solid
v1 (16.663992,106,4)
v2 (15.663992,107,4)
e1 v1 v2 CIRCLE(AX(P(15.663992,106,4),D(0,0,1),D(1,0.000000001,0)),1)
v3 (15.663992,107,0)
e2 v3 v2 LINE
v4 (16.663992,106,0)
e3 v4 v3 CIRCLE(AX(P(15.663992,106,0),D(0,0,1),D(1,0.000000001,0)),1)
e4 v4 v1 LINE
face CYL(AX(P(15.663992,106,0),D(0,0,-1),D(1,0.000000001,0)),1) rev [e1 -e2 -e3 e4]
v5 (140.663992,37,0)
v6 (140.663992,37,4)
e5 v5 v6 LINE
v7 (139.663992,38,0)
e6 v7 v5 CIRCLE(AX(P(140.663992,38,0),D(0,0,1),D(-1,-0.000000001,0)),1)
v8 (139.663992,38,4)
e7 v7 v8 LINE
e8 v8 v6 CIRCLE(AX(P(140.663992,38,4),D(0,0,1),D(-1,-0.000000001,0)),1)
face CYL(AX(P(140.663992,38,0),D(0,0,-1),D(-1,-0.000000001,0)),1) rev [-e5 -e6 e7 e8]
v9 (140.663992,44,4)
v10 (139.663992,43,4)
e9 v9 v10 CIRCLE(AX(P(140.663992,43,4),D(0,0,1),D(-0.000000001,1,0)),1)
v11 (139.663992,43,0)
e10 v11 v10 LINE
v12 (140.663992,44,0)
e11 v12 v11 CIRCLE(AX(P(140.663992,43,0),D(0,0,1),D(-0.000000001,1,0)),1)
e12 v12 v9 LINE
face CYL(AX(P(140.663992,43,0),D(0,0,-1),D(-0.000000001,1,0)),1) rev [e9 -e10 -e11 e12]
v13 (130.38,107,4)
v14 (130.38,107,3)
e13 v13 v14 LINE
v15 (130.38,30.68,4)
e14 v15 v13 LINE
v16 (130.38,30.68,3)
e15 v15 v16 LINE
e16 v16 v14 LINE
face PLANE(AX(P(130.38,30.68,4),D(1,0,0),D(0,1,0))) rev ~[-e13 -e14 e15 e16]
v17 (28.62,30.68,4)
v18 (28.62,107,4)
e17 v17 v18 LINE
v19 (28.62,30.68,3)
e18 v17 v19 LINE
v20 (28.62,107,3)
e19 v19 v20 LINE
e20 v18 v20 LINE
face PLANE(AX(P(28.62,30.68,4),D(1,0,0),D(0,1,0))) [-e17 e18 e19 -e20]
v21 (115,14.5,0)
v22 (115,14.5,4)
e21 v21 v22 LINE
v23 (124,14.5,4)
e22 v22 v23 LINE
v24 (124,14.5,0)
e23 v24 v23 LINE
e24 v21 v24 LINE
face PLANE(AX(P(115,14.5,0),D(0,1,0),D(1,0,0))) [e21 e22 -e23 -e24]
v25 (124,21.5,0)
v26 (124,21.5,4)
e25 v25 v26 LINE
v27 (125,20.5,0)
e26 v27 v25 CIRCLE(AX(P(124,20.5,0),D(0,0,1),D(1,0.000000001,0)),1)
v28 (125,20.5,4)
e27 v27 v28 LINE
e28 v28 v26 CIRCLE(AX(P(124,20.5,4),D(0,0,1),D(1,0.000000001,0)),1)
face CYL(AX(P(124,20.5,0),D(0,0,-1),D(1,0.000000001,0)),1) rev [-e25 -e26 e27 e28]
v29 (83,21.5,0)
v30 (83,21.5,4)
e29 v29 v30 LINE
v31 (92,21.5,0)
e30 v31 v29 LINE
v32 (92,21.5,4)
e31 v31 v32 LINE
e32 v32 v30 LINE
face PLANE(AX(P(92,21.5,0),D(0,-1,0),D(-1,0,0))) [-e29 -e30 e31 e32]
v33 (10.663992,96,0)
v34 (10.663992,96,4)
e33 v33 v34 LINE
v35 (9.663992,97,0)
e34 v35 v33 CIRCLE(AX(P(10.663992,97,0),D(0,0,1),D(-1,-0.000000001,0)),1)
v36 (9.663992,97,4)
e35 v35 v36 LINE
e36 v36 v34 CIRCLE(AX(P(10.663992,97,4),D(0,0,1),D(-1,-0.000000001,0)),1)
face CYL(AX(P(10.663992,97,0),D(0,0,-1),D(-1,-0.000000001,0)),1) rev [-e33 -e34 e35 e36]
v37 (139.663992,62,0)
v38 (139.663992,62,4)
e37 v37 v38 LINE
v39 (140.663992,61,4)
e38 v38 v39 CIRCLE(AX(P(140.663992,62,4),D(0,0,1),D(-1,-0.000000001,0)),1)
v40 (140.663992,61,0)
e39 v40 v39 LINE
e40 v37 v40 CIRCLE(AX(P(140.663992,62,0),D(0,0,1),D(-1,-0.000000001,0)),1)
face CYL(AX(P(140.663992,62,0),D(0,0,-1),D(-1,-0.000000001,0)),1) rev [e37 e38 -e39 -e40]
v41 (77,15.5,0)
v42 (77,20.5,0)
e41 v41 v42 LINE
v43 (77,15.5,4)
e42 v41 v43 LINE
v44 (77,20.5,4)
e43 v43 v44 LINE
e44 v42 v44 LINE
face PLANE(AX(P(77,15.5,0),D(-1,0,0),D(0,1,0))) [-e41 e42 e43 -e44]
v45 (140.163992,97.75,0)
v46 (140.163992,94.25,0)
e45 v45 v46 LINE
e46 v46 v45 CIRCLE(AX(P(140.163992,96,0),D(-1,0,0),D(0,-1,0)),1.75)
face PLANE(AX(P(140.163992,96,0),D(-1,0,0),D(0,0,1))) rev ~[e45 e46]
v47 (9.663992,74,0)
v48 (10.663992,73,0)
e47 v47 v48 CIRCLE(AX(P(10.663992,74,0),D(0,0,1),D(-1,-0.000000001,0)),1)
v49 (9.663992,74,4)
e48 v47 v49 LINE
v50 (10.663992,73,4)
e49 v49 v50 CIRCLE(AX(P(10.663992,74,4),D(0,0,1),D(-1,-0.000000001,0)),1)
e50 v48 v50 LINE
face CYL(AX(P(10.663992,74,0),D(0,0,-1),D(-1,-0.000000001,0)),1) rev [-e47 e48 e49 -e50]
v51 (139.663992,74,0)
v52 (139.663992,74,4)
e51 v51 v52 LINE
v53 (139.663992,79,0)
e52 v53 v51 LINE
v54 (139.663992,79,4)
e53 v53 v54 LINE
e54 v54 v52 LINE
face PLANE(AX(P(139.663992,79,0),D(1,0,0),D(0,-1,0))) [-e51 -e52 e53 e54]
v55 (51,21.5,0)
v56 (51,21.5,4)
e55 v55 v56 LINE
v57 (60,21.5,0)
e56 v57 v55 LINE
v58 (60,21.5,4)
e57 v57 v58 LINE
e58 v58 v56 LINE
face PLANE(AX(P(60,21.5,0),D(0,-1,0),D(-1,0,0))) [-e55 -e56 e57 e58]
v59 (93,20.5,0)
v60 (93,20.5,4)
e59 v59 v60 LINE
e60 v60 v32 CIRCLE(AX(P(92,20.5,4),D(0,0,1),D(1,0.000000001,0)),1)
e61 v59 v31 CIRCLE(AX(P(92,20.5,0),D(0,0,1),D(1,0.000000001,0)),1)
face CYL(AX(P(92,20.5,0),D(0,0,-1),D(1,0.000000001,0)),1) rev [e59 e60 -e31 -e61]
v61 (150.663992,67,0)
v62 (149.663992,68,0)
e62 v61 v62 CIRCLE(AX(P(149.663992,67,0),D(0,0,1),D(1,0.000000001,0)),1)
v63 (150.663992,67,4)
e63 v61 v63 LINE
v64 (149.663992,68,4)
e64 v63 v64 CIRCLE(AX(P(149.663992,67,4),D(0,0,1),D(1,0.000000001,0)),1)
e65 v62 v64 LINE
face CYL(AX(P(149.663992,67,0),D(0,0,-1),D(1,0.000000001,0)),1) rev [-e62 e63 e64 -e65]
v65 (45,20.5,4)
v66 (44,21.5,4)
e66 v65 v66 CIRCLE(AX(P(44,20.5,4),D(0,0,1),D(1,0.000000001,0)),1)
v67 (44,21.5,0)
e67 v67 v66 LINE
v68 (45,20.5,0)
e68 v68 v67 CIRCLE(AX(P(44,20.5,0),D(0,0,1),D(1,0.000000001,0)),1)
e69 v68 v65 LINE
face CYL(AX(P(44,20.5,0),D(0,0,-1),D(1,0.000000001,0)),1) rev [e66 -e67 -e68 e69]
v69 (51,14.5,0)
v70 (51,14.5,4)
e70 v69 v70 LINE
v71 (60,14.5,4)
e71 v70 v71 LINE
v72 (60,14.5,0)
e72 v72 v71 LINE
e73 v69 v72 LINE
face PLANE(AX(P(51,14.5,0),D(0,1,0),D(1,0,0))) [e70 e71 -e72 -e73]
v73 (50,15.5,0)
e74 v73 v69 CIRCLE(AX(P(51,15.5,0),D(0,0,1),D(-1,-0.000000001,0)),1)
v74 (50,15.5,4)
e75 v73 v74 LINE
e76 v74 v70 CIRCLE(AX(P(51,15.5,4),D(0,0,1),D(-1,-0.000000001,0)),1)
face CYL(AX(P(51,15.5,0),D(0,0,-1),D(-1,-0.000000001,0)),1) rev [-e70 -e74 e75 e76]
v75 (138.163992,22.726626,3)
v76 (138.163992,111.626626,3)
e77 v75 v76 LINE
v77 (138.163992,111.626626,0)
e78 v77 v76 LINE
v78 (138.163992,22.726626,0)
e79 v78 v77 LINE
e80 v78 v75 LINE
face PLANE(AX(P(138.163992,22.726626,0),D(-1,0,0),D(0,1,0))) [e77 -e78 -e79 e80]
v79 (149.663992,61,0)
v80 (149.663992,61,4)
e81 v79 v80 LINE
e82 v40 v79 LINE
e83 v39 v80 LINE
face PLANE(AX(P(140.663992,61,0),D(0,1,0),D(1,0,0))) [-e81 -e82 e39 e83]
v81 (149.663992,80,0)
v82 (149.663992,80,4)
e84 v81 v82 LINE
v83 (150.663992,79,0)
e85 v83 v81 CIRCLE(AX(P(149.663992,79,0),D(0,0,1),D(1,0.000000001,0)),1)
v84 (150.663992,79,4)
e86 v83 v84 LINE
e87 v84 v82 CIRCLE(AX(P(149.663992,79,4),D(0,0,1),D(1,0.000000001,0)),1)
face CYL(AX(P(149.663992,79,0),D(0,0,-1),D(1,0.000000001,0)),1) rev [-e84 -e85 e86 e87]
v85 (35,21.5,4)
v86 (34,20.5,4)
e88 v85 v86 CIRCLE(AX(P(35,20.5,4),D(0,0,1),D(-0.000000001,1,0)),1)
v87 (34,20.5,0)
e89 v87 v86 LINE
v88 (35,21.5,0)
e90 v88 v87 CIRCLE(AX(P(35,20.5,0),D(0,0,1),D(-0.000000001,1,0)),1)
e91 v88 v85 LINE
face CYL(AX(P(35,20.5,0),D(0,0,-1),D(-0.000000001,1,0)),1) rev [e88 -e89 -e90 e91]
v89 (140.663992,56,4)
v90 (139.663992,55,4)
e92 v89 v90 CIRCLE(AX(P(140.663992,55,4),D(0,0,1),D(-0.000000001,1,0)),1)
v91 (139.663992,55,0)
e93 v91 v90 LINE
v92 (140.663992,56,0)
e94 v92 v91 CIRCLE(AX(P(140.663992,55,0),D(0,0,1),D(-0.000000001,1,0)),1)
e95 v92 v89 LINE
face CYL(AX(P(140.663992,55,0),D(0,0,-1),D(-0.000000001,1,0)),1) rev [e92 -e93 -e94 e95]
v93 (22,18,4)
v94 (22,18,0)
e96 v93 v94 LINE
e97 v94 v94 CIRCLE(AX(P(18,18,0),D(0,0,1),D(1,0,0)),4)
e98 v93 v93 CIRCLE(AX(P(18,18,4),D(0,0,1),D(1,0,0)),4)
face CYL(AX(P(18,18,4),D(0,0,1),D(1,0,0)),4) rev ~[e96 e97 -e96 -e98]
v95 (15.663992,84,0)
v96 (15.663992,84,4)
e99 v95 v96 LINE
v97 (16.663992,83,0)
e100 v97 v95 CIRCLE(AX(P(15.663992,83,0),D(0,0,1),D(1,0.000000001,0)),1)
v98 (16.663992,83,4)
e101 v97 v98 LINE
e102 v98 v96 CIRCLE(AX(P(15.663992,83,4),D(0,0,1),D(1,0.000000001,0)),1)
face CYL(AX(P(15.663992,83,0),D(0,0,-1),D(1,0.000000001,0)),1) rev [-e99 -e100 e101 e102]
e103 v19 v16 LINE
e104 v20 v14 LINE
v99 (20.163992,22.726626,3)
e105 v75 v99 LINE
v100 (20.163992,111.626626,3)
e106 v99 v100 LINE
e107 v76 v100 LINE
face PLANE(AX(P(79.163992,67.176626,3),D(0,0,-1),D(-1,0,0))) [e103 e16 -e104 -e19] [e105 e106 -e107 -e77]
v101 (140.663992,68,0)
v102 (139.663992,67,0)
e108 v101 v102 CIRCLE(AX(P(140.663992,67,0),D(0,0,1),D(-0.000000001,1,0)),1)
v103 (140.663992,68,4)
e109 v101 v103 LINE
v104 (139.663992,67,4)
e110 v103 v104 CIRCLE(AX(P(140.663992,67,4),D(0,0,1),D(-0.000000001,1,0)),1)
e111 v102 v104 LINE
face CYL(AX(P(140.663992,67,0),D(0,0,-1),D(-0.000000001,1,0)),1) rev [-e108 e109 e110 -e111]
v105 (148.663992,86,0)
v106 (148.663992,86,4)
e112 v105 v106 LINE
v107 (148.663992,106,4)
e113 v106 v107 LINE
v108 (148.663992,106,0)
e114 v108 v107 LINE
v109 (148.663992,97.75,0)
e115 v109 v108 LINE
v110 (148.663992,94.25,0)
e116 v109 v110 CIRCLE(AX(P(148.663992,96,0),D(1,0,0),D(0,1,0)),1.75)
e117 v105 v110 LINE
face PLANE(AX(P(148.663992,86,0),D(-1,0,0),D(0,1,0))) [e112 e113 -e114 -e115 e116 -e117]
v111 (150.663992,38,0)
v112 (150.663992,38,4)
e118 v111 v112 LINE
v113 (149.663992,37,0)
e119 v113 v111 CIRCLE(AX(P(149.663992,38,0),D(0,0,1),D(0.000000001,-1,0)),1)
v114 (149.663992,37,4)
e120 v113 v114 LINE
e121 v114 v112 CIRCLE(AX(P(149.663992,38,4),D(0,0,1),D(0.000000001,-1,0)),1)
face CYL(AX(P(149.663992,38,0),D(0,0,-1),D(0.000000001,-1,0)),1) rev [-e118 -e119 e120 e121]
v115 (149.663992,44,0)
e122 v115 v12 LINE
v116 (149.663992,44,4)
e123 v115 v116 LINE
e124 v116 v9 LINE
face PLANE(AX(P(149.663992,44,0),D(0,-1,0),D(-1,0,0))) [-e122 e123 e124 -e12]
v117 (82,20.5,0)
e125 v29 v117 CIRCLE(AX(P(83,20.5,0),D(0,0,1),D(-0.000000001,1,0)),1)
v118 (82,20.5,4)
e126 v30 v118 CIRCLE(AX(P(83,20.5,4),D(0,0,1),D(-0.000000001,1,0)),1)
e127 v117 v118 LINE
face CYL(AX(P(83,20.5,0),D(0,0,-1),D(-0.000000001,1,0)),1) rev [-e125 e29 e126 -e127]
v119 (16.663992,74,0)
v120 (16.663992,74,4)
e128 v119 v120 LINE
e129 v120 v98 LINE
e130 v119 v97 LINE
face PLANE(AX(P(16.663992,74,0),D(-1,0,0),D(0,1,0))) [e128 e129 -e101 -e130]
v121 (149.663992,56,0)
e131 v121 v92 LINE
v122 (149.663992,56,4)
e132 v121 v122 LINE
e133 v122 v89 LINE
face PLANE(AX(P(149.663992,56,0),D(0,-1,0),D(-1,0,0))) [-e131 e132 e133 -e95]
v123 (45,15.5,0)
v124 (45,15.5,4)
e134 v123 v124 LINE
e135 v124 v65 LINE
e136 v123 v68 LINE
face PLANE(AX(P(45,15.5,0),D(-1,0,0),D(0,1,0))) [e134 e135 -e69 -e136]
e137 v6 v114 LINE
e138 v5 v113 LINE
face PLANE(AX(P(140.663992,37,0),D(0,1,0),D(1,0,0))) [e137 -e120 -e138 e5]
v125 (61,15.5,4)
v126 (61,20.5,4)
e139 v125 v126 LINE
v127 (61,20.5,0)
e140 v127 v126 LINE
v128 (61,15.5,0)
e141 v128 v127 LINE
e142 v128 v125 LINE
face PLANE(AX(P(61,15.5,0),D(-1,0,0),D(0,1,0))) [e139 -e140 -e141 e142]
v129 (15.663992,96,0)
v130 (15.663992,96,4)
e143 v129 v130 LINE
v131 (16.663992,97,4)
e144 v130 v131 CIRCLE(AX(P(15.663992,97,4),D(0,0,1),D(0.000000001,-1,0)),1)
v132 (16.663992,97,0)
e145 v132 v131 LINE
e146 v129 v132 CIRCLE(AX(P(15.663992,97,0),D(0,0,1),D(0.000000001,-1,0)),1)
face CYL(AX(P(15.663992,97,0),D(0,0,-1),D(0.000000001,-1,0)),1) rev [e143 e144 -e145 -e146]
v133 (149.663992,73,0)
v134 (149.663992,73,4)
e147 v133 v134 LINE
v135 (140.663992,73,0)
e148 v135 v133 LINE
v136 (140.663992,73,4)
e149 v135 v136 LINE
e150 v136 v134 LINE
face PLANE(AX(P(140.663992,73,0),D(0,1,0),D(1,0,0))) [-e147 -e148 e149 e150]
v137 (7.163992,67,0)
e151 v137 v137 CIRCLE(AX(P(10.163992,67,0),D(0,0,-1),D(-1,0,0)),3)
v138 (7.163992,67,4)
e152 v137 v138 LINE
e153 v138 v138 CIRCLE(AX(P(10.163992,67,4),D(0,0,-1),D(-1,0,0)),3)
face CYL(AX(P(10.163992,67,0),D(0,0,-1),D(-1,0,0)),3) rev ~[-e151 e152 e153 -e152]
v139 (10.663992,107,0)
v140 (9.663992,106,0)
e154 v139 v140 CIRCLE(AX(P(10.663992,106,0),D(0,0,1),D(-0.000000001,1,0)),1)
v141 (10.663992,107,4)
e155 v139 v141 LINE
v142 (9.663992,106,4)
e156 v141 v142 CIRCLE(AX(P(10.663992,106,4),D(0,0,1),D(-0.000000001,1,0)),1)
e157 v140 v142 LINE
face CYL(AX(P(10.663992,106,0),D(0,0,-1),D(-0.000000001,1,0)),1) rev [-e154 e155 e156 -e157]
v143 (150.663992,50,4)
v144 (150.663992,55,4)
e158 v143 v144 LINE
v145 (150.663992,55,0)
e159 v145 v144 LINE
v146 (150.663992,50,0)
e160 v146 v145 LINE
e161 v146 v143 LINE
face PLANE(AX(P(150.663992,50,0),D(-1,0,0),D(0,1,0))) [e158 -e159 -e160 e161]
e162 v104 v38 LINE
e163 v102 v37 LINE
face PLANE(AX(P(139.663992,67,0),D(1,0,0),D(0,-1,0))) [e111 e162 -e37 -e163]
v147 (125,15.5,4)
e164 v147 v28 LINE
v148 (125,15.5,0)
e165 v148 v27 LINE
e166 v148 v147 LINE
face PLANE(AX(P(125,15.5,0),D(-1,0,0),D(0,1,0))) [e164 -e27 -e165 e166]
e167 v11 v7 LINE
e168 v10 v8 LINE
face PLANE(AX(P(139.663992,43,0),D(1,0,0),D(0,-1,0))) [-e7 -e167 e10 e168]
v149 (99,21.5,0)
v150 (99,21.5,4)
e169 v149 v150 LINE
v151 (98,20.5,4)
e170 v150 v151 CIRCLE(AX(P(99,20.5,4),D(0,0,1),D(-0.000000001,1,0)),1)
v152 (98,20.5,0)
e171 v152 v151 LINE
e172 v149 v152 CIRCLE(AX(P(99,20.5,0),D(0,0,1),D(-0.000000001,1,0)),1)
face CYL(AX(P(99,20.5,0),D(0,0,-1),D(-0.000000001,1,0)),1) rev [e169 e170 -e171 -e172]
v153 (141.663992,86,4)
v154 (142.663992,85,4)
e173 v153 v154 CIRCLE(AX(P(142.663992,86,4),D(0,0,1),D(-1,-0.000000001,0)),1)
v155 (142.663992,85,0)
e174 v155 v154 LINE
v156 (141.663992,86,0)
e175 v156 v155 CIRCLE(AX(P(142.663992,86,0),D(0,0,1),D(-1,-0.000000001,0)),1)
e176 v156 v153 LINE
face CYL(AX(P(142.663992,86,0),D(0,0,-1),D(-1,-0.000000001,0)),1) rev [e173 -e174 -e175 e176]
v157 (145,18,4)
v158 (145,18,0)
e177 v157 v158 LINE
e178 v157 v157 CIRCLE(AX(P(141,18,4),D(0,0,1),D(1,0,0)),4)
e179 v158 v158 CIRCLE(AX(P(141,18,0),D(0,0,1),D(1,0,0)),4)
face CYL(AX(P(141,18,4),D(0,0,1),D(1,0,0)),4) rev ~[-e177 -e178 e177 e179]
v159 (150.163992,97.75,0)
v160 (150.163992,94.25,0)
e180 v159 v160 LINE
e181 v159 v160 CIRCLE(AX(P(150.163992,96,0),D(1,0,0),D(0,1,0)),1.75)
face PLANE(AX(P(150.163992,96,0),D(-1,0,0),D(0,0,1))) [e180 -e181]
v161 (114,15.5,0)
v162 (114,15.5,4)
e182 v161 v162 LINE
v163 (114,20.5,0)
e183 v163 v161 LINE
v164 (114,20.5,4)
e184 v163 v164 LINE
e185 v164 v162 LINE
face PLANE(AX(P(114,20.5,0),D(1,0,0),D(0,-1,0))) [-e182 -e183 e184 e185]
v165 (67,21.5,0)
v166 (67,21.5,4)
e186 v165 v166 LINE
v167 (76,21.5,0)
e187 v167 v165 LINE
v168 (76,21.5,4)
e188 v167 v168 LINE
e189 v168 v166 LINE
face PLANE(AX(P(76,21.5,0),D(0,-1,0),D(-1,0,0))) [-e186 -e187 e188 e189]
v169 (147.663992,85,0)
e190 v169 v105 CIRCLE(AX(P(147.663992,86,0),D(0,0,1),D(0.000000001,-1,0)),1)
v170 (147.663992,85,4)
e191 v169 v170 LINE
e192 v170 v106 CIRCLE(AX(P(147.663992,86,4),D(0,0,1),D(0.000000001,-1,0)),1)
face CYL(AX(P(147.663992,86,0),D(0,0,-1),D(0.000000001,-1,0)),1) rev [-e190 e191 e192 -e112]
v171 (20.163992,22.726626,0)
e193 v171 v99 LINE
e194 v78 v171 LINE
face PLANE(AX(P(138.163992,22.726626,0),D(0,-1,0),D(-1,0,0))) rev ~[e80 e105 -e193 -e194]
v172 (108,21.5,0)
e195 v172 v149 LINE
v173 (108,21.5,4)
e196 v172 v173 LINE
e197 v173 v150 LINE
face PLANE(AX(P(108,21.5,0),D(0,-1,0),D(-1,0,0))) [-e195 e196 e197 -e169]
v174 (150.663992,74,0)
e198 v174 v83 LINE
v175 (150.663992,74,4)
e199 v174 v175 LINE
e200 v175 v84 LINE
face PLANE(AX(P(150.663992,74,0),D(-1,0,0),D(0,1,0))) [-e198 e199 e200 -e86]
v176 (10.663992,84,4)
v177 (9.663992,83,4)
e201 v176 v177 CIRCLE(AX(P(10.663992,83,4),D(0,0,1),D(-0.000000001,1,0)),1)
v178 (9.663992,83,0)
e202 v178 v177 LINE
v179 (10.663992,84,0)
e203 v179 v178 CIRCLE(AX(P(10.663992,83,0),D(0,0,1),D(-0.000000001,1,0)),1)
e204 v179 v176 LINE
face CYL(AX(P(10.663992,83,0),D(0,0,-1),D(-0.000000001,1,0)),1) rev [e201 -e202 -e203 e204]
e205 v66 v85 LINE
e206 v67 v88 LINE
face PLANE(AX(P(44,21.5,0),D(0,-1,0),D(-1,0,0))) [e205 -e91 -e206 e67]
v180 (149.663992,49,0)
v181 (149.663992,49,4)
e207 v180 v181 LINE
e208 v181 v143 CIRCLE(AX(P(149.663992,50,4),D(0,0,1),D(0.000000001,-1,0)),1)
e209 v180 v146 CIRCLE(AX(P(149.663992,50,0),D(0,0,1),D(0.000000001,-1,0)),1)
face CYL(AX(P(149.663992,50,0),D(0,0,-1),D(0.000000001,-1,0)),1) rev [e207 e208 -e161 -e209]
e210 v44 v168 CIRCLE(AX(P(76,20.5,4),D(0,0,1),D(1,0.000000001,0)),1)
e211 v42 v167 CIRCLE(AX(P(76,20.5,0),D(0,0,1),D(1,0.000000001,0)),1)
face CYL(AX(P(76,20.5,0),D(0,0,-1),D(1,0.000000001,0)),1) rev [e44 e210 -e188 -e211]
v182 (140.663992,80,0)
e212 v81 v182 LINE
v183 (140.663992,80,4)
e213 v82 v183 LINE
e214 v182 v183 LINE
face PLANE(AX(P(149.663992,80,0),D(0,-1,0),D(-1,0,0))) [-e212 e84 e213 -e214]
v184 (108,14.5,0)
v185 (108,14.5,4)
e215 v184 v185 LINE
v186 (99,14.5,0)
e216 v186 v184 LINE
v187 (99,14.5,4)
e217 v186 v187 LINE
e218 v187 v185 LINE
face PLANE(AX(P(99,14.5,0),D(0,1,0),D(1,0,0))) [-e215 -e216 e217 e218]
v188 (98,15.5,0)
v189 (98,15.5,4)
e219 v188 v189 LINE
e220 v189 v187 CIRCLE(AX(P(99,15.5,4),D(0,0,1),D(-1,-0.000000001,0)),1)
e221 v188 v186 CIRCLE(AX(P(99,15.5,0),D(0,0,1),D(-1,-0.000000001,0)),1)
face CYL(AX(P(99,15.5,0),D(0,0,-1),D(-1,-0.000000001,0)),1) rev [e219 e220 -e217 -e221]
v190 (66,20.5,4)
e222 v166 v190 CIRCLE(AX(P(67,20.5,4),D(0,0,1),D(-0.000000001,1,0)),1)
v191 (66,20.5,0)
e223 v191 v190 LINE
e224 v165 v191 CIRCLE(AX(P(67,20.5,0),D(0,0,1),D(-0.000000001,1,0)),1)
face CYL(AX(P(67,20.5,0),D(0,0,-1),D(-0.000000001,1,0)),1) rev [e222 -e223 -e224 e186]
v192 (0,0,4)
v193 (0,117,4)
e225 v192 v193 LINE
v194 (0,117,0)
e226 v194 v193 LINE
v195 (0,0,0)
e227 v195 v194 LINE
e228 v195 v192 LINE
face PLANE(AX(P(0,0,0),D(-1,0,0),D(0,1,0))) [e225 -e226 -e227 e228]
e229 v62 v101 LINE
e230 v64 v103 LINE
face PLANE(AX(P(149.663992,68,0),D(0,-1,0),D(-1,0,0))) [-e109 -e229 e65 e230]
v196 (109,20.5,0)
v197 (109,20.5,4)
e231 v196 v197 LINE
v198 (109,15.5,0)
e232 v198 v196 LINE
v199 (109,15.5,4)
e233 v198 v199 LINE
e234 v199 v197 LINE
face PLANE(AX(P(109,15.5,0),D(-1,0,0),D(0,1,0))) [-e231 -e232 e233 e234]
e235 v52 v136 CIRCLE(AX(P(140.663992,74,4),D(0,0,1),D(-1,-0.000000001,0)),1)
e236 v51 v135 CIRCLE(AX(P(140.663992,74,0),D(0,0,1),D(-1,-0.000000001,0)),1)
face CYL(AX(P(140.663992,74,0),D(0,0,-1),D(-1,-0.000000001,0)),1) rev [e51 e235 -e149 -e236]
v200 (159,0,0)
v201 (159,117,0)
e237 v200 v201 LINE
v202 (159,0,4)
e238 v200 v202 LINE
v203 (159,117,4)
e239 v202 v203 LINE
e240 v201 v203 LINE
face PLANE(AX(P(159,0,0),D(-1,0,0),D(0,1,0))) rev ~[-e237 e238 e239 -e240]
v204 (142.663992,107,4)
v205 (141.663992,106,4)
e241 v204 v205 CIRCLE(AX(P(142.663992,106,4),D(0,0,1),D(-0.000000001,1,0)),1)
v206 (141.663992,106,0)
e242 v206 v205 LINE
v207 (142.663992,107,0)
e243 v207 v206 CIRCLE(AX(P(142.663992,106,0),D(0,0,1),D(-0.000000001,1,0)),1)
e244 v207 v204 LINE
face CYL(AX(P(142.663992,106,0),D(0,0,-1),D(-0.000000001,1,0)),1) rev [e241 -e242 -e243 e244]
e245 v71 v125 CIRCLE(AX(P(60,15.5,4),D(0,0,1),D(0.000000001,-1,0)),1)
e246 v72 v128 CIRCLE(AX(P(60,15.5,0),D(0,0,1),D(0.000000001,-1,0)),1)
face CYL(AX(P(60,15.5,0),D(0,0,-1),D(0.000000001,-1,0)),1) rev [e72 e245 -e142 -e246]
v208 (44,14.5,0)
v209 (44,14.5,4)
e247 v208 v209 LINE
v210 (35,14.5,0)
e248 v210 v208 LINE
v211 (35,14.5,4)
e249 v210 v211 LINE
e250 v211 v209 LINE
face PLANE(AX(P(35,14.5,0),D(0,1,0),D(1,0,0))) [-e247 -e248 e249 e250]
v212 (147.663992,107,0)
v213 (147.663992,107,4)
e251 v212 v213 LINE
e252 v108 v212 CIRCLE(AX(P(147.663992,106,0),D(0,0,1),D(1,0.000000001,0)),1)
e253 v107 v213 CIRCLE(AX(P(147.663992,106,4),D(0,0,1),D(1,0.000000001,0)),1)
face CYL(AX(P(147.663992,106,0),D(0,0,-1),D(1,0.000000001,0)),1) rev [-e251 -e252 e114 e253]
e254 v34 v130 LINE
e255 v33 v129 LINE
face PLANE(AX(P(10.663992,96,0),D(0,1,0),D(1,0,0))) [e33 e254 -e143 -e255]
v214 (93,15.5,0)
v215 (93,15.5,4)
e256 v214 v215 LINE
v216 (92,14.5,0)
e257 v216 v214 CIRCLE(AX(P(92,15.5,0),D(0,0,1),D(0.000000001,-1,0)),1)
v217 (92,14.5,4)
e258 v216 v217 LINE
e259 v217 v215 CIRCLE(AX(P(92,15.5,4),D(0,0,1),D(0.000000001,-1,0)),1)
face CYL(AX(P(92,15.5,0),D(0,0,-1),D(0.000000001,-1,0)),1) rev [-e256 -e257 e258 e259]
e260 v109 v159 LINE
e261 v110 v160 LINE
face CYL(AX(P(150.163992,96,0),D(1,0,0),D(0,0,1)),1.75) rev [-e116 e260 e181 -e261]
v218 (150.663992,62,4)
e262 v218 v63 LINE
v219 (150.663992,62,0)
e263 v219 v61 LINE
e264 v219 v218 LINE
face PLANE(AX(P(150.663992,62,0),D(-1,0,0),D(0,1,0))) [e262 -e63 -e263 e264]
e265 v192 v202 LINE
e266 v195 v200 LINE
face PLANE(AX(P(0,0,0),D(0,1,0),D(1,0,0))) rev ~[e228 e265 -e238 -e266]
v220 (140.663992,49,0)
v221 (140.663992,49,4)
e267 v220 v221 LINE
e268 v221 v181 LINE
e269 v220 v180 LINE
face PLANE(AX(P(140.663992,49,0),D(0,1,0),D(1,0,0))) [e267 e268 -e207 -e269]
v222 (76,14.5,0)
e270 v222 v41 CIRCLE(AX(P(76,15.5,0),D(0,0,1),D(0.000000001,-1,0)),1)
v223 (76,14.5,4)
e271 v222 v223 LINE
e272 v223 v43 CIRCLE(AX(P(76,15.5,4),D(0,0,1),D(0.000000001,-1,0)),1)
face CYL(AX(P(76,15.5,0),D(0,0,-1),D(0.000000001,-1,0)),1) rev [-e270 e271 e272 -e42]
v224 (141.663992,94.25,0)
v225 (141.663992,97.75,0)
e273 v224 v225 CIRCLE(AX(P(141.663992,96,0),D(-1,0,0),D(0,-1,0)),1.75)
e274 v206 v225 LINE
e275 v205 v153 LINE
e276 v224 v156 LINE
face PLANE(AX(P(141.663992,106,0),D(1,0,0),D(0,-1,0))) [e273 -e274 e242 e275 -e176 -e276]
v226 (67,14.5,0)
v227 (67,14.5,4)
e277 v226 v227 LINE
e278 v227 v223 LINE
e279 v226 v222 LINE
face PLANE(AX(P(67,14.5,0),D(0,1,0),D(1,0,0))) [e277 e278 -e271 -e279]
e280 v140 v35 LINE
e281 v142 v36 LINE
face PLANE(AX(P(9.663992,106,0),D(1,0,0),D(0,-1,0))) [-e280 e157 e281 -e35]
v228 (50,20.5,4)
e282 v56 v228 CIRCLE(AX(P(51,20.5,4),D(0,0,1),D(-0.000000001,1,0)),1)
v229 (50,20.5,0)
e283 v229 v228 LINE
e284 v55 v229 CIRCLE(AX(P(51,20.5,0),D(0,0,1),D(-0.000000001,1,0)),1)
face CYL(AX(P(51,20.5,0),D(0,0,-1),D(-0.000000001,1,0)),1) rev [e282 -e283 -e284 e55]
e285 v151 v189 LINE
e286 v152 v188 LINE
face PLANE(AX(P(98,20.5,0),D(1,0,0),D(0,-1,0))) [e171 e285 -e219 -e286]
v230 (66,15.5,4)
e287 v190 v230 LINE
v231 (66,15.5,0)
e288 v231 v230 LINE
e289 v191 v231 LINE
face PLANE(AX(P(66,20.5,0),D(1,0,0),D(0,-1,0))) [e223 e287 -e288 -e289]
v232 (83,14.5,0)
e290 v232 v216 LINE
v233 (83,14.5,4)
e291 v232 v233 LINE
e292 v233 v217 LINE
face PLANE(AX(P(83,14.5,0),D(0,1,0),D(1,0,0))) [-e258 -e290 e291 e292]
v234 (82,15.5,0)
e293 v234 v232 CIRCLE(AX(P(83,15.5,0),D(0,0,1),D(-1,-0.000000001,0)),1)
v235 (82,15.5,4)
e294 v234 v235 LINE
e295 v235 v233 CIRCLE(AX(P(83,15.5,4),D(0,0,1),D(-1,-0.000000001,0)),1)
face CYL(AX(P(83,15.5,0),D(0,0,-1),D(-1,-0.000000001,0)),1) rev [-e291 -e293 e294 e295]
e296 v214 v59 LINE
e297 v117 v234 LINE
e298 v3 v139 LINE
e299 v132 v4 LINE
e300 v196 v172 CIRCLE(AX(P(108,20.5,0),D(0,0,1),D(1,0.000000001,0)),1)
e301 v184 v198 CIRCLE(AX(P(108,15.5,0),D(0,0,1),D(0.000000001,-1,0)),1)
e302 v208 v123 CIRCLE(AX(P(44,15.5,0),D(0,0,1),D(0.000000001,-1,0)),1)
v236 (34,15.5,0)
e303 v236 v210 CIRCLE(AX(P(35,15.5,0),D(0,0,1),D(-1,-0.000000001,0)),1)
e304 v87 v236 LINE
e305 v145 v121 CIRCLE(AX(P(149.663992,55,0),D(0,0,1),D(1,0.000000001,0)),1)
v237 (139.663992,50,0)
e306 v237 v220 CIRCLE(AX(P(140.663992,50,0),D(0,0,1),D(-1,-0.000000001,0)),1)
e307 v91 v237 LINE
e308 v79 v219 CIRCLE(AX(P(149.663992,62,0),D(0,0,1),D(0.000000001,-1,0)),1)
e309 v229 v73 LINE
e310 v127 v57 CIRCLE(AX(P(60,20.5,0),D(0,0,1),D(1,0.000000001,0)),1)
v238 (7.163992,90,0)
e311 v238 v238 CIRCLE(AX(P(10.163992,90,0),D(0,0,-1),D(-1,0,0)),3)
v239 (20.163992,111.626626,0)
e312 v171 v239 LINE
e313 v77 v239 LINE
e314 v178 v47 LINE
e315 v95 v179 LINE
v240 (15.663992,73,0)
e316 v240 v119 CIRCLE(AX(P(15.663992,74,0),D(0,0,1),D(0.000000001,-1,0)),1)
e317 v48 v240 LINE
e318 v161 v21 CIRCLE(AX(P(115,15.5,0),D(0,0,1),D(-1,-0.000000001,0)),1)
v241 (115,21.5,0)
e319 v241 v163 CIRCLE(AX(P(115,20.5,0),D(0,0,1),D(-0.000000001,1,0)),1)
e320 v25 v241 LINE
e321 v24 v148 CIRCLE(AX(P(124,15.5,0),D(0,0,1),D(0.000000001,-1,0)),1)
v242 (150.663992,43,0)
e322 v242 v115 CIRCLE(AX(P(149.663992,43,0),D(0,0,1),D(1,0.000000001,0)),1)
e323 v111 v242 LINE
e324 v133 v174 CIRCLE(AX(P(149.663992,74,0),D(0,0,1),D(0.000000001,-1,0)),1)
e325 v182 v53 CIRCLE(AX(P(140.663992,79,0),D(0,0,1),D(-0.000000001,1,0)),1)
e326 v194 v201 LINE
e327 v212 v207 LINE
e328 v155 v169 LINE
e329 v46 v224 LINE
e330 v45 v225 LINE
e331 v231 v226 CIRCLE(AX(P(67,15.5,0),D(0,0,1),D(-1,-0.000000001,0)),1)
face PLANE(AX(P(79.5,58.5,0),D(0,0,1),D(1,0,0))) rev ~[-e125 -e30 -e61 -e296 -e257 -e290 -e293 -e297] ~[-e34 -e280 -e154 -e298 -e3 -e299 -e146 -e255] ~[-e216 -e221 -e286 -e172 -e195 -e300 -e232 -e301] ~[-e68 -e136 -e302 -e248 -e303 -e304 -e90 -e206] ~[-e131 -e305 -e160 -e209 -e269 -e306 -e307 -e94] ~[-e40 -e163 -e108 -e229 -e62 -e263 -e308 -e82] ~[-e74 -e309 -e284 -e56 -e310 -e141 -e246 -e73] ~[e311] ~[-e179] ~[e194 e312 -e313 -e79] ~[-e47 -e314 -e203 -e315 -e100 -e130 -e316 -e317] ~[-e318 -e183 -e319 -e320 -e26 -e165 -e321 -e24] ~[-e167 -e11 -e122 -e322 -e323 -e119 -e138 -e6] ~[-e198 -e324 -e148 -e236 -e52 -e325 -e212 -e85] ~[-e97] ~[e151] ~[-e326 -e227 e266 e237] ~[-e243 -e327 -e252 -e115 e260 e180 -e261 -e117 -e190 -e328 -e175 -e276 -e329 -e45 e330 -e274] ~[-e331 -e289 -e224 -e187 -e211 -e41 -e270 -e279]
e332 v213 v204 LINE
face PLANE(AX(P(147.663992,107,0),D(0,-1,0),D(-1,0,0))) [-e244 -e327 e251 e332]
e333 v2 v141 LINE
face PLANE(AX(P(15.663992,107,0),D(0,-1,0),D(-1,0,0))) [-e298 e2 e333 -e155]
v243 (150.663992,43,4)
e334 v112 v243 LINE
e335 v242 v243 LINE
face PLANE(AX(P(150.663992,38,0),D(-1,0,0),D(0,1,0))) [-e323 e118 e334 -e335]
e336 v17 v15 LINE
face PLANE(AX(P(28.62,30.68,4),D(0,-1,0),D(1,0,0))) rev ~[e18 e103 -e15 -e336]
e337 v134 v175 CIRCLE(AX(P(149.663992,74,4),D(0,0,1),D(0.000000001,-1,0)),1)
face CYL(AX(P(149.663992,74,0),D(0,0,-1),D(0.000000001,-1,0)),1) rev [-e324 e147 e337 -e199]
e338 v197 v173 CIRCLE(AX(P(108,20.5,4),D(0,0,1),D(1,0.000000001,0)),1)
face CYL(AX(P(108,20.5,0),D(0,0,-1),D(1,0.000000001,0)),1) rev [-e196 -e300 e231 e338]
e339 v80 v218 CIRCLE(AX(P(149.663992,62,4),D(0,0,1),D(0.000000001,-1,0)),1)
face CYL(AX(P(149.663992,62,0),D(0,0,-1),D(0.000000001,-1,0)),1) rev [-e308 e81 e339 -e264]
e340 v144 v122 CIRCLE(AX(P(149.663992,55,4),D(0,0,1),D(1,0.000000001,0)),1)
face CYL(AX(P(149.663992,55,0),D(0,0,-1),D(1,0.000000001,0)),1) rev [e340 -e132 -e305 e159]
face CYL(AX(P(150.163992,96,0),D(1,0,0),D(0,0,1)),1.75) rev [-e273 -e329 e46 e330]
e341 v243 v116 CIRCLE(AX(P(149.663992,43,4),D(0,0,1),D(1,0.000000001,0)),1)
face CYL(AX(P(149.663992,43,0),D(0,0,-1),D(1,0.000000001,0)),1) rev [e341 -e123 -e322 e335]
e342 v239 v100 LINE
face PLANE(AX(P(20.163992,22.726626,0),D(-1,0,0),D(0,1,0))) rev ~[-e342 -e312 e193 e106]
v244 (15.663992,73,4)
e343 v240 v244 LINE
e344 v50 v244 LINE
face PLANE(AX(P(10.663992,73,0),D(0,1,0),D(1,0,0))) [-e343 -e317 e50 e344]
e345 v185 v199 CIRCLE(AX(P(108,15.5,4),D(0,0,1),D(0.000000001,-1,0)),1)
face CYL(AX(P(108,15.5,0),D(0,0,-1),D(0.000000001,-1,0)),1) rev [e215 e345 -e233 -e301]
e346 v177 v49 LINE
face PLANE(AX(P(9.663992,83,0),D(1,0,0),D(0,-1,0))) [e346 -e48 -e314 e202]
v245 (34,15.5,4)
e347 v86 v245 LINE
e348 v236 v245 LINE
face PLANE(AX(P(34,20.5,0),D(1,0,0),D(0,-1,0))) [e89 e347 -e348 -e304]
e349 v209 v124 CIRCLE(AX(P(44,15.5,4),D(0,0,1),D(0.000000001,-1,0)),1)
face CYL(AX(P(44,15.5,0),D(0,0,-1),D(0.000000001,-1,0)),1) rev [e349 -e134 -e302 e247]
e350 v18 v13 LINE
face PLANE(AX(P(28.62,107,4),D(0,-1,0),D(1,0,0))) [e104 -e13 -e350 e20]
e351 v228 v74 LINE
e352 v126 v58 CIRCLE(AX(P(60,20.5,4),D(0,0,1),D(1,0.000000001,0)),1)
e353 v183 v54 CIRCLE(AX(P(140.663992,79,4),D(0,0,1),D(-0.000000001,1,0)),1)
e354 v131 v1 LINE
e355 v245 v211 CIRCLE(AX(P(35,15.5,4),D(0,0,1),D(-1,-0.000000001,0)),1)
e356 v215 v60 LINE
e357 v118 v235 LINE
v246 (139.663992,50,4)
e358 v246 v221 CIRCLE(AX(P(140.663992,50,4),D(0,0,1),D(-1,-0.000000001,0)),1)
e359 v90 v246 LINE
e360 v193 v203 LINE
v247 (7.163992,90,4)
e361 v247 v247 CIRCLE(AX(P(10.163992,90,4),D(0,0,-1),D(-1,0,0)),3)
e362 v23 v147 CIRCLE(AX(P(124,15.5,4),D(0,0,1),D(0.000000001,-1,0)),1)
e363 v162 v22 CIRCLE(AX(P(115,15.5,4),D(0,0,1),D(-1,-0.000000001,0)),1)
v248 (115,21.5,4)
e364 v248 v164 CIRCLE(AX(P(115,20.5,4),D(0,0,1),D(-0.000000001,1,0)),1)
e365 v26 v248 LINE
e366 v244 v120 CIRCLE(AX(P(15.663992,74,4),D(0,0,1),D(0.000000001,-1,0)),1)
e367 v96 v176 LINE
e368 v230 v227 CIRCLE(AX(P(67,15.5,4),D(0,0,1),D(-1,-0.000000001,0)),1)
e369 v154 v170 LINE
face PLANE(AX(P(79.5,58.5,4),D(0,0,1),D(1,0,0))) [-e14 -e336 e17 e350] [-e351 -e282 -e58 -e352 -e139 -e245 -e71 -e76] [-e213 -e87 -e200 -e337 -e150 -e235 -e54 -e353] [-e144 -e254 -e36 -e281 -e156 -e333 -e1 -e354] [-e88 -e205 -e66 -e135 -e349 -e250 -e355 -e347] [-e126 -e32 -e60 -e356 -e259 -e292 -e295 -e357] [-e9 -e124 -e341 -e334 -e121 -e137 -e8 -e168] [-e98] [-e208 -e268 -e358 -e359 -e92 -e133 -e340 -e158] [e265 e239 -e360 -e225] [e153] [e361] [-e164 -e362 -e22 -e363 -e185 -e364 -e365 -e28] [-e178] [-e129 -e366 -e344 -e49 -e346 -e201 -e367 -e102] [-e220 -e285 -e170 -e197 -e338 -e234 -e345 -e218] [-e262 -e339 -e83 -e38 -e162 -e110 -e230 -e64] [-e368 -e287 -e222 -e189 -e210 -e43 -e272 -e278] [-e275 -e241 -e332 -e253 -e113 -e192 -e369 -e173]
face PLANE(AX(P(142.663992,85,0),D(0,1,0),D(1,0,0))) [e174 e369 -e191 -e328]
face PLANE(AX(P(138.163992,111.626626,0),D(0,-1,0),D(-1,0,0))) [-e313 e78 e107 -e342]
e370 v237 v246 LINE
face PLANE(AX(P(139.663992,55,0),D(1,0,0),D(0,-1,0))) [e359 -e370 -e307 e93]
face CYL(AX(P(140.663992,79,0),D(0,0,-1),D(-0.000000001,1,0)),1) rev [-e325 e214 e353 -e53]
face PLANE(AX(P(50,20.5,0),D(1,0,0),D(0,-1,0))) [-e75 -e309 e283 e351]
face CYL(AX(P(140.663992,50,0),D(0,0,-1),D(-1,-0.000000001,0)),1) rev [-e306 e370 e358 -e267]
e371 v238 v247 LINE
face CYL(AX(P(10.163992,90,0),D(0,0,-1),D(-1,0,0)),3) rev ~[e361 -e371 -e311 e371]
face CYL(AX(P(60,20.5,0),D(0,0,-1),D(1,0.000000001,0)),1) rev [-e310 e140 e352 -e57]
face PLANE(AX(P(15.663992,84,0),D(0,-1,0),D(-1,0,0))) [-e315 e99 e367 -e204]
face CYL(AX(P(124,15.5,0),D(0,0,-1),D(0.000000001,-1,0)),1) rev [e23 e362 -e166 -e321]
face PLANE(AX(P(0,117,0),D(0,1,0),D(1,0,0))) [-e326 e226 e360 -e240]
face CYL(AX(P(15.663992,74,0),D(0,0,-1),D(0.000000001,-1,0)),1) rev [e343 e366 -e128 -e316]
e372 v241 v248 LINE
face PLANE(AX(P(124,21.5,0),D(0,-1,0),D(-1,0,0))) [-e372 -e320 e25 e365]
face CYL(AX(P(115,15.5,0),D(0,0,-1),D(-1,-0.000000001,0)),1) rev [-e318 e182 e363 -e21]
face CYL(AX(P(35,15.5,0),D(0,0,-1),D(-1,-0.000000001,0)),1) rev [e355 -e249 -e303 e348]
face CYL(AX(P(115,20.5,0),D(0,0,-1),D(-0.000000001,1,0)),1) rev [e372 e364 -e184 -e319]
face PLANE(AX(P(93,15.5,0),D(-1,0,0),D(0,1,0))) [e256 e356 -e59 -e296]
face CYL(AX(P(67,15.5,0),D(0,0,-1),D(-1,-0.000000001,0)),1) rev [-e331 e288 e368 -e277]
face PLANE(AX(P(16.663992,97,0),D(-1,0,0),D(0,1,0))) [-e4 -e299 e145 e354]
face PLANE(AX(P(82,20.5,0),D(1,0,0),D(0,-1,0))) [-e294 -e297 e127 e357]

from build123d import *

# Parameters (mm, degrees)
ESQUISSE1_W                  = 159
ESQUISSE1_H                  = 117
BOSS_EXTRU_1_DEPTH           = 4
ESQUISSE3_W                  = 101.76
ESQUISSE3_H                  = 76.32
ENL_V_MAT_EXTRU_2_DEPTH      = 4
ESQUISSE9_W                  = 118
ESQUISSE9_H                  = 88.9
ENL_V_MAT_EXTRU_5_DEPTH      = 3
ESQUISSE4_R                  = 4
ENL_V_MAT_EXTRU_3_DEPTH      = 4
ESQUISSE10_R                 = 3
ENL_V_MAT_EXTRU_6_DEPTH      = 4
ENL_V_MAT_EXTRU_7_DEPTH      = 8.5
ENL_V_MAT_EXTRU_7_DEPTH_BACK = 1.5
ESQUISSE11_R                 = 1.75


with BuildPart() as part:
    # Esquisse1 → Boss.-Extru.1 (new body)
    with BuildSketch(Plane.XY):
        with Locations((79.5, 58.5)):
            Rectangle(ESQUISSE1_W, ESQUISSE1_H)
    extrude(amount=BOSS_EXTRU_1_DEPTH)

    # Esquisse3 → Enlèv. mat.-Extru.2 (cut)
    with BuildSketch(Plane.XY.offset(4)):
        with Locations((79.5, 68.84)):
            Rectangle(ESQUISSE3_W, ESQUISSE3_H)
    extrude(amount=-ENL_V_MAT_EXTRU_2_DEPTH, mode=Mode.SUBTRACT)

    # Esquisse9 → Enlèv. mat.-Extru.5 (cut)
    with BuildSketch(Plane(origin=(0, 0, 0), x_dir=(-1, 0, 0), z_dir=(0, 0, -1))):
        with Locations((-79.163992303, 67.176625881)):
            Rectangle(ESQUISSE9_W, ESQUISSE9_H)
    extrude(amount=-ENL_V_MAT_EXTRU_5_DEPTH, mode=Mode.SUBTRACT)

    # Esquisse4 → Enlèv. mat.-Extru.3 (cut)
    with BuildSketch(Plane.XY.offset(4)):
        with Locations((141, 18)):
            Circle(ESQUISSE4_R)
        with Locations((18, 18)):
            Circle(ESQUISSE4_R)
    extrude(amount=-ENL_V_MAT_EXTRU_3_DEPTH, mode=Mode.SUBTRACT)

    # Esquisse10 → Enlèv. mat.-Extru.6 (cut)
    with BuildSketch(Plane(origin=(0, 0, 0), x_dir=(-1, 0, 0), z_dir=(0, 0, -1))):
        with Locations((-10.163992303, 90)):
            Circle(ESQUISSE10_R)
        with Locations((-10.163992303, 67)):
            Circle(ESQUISSE10_R)
        with BuildLine():
            Line((-124, 21.5), (-115, 21.5))
            ThreePointArc((-115, 21.5), (-114.292893219, 21.207106781), (-114, 20.5))
            Line((-114, 20.5), (-114, 15.5))
            ThreePointArc((-114, 15.5), (-114.292893219, 14.792893219), (-115, 14.5))
            Line((-115, 14.5), (-124, 14.5))
            ThreePointArc((-124, 14.5), (-124.707106781, 14.792893219), (-125, 15.5))
            Line((-125, 15.5), (-125, 20.5))
            ThreePointArc((-125, 20.5), (-124.707106781, 21.207106781), (-124, 21.5))
        make_face()
        with BuildLine():
            Line((-108, 21.5), (-99, 21.5))
            ThreePointArc((-99, 21.5), (-98.292893219, 21.207106781), (-98, 20.5))
            Line((-98, 20.5), (-98, 15.5))
            ThreePointArc((-98, 15.5), (-98.292893219, 14.792893219), (-99, 14.5))
            Line((-99, 14.5), (-108, 14.5))
            ThreePointArc((-108, 14.5), (-108.707106781, 14.792893219), (-109, 15.5))
            Line((-109, 15.5), (-109, 20.5))
            ThreePointArc((-109, 20.5), (-108.707106781, 21.207106781), (-108, 21.5))
        make_face()
        with BuildLine():
            Line((-92, 21.5), (-83, 21.5))
            ThreePointArc((-83, 21.5), (-82.292893219, 21.207106781), (-82, 20.5))
            Line((-82, 20.5), (-82, 15.5))
            ThreePointArc((-82, 15.5), (-82.292893219, 14.792893219), (-83, 14.5))
            Line((-83, 14.5), (-92, 14.5))
            ThreePointArc((-92, 14.5), (-92.707106781, 14.792893219), (-93, 15.5))
            Line((-93, 15.5), (-93, 20.5))
            ThreePointArc((-93, 20.5), (-92.707106781, 21.207106781), (-92, 21.5))
        make_face()
        with BuildLine():
            Line((-76, 21.5), (-67, 21.5))
            ThreePointArc((-67, 21.5), (-66.292893219, 21.207106781), (-66, 20.5))
            Line((-66, 20.5), (-66, 15.5))
            ThreePointArc((-66, 15.5), (-66.292893219, 14.792893219), (-67, 14.5))
            Line((-67, 14.5), (-76, 14.5))
            ThreePointArc((-76, 14.5), (-76.707106781, 14.792893219), (-77, 15.5))
            Line((-77, 15.5), (-77, 20.5))
            ThreePointArc((-77, 20.5), (-76.707106781, 21.207106781), (-76, 21.5))
        make_face()
        with BuildLine():
            Line((-60, 21.5), (-51, 21.5))
            ThreePointArc((-51, 21.5), (-50.292893219, 21.207106781), (-50, 20.5))
            Line((-50, 20.5), (-50, 15.5))
            ThreePointArc((-50, 15.5), (-50.292893219, 14.792893219), (-51, 14.5))
            Line((-51, 14.5), (-60, 14.5))
            ThreePointArc((-60, 14.5), (-60.707106781, 14.792893219), (-61, 15.5))
            Line((-61, 15.5), (-61, 20.5))
            ThreePointArc((-61, 20.5), (-60.707106781, 21.207106781), (-60, 21.5))
        make_face()
        with BuildLine():
            Line((-44, 21.5), (-35, 21.5))
            ThreePointArc((-35, 21.5), (-34.292893219, 21.207106781), (-34, 20.5))
            Line((-34, 20.5), (-34, 15.5))
            ThreePointArc((-34, 15.5), (-34.292893219, 14.792893219), (-35, 14.5))
            Line((-35, 14.5), (-44, 14.5))
            ThreePointArc((-44, 14.5), (-44.707106781, 14.792893219), (-45, 15.5))
            Line((-45, 15.5), (-45, 20.5))
            ThreePointArc((-45, 20.5), (-44.707106781, 21.207106781), (-44, 21.5))
        make_face()
        with BuildLine():
            Line((-147.663992303, 107), (-142.663992303, 107))
            ThreePointArc((-142.663992303, 107), (-141.956885522, 106.707106781), (-141.663992303, 106))
            Line((-141.663992303, 106), (-141.663992303, 86))
            ThreePointArc((-141.663992303, 86), (-141.956885522, 85.292893219), (-142.663992303, 85))
            Line((-142.663992303, 85), (-147.663992303, 85))
            ThreePointArc((-147.663992303, 85), (-148.371099084, 85.292893219), (-148.663992303, 86))
            Line((-148.663992303, 86), (-148.663992303, 106))
            ThreePointArc((-148.663992303, 106), (-148.371099084, 106.707106781), (-147.663992303, 107))
        make_face()
        with BuildLine():
            Line((-149.663992303, 80), (-140.663992303, 80))
            ThreePointArc((-140.663992303, 80), (-139.956885522, 79.707106781), (-139.663992303, 79))
            Line((-139.663992303, 79), (-139.663992303, 74))
            ThreePointArc((-139.663992303, 74), (-139.956885522, 73.292893219), (-140.663992303, 73))
            Line((-140.663992303, 73), (-149.663992303, 73))
            ThreePointArc((-149.663992303, 73), (-150.371099084, 73.292893219), (-150.663992303, 74))
            Line((-150.663992303, 74), (-150.663992303, 79))
            ThreePointArc((-150.663992303, 79), (-150.371099084, 79.707106781), (-149.663992303, 80))
        make_face()
        with BuildLine():
            Line((-149.663992303, 68), (-140.663992303, 68))
            ThreePointArc((-140.663992303, 68), (-139.956885522, 67.707106781), (-139.663992303, 67))
            Line((-139.663992303, 67), (-139.663992303, 62))
            ThreePointArc((-139.663992303, 62), (-139.956885522, 61.292893219), (-140.663992303, 61))
            Line((-140.663992303, 61), (-149.663992303, 61))
            ThreePointArc((-149.663992303, 61), (-150.371099084, 61.292893219), (-150.663992303, 62))
            Line((-150.663992303, 62), (-150.663992303, 67))
            ThreePointArc((-150.663992303, 67), (-150.371099084, 67.707106781), (-149.663992303, 68))
        make_face()
        with BuildLine():
            Line((-149.663992303, 56), (-140.663992303, 56))
            ThreePointArc((-140.663992303, 56), (-139.956885522, 55.707106781), (-139.663992303, 55))
            Line((-139.663992303, 55), (-139.663992303, 50))
            ThreePointArc((-139.663992303, 50), (-139.956885522, 49.292893219), (-140.663992303, 49))
            Line((-140.663992303, 49), (-149.663992303, 49))
            ThreePointArc((-149.663992303, 49), (-150.371099084, 49.292893219), (-150.663992303, 50))
            Line((-150.663992303, 50), (-150.663992303, 55))
            ThreePointArc((-150.663992303, 55), (-150.371099084, 55.707106781), (-149.663992303, 56))
        make_face()
        with BuildLine():
            Line((-149.663992303, 44), (-140.663992303, 44))
            ThreePointArc((-140.663992303, 44), (-139.956885522, 43.707106781), (-139.663992303, 43))
            Line((-139.663992303, 43), (-139.663992303, 38))
            ThreePointArc((-139.663992303, 38), (-139.956885522, 37.292893219), (-140.663992303, 37))
            Line((-140.663992303, 37), (-149.663992303, 37))
            ThreePointArc((-149.663992303, 37), (-150.371099084, 37.292893219), (-150.663992303, 38))
            Line((-150.663992303, 38), (-150.663992303, 43))
            ThreePointArc((-150.663992303, 43), (-150.371099084, 43.707106781), (-149.663992303, 44))
        make_face()
        with BuildLine():
            Line((-15.663992303, 107), (-10.663992303, 107))
            ThreePointArc((-10.663992303, 107), (-9.956885522, 106.707106781), (-9.663992303, 106))
            Line((-9.663992303, 106), (-9.663992303, 97))
            ThreePointArc((-9.663992303, 97), (-9.956885522, 96.292893219), (-10.663992303, 96))
            Line((-10.663992303, 96), (-15.663992303, 96))
            ThreePointArc((-15.663992303, 96), (-16.371099084, 96.292893219), (-16.663992303, 97))
            Line((-16.663992303, 97), (-16.663992303, 106))
            ThreePointArc((-16.663992303, 106), (-16.371099084, 106.707106781), (-15.663992303, 107))
        make_face()
        with BuildLine():
            Line((-15.663992303, 84), (-10.663992303, 84))
            ThreePointArc((-10.663992303, 84), (-9.956885522, 83.707106781), (-9.663992303, 83))
            Line((-9.663992303, 83), (-9.663992303, 74))
            ThreePointArc((-9.663992303, 74), (-9.956885522, 73.292893219), (-10.663992303, 73))
            Line((-10.663992303, 73), (-15.663992303, 73))
            ThreePointArc((-15.663992303, 73), (-16.371099084, 73.292893219), (-16.663992303, 74))
            Line((-16.663992303, 74), (-16.663992303, 83))
            ThreePointArc((-16.663992303, 83), (-16.371099084, 83.707106781), (-15.663992303, 84))
        make_face()
    extrude(amount=-ENL_V_MAT_EXTRU_6_DEPTH, mode=Mode.SUBTRACT)

    # Esquisse11 → Enlèv. mat.-Extru.7 (cut, two sides: drawn at the far end of the back side and taken through both)
    with BuildSketch(Plane.ZY.offset(-148.663992303).offset(-ENL_V_MAT_EXTRU_7_DEPTH_BACK)):
        with Locations((0, 96)):
            Circle(ESQUISSE11_R)
    extrude(amount=ENL_V_MAT_EXTRU_7_DEPTH + ENL_V_MAT_EXTRU_7_DEPTH_BACK, mode=Mode.SUBTRACT)


solid = part.part
